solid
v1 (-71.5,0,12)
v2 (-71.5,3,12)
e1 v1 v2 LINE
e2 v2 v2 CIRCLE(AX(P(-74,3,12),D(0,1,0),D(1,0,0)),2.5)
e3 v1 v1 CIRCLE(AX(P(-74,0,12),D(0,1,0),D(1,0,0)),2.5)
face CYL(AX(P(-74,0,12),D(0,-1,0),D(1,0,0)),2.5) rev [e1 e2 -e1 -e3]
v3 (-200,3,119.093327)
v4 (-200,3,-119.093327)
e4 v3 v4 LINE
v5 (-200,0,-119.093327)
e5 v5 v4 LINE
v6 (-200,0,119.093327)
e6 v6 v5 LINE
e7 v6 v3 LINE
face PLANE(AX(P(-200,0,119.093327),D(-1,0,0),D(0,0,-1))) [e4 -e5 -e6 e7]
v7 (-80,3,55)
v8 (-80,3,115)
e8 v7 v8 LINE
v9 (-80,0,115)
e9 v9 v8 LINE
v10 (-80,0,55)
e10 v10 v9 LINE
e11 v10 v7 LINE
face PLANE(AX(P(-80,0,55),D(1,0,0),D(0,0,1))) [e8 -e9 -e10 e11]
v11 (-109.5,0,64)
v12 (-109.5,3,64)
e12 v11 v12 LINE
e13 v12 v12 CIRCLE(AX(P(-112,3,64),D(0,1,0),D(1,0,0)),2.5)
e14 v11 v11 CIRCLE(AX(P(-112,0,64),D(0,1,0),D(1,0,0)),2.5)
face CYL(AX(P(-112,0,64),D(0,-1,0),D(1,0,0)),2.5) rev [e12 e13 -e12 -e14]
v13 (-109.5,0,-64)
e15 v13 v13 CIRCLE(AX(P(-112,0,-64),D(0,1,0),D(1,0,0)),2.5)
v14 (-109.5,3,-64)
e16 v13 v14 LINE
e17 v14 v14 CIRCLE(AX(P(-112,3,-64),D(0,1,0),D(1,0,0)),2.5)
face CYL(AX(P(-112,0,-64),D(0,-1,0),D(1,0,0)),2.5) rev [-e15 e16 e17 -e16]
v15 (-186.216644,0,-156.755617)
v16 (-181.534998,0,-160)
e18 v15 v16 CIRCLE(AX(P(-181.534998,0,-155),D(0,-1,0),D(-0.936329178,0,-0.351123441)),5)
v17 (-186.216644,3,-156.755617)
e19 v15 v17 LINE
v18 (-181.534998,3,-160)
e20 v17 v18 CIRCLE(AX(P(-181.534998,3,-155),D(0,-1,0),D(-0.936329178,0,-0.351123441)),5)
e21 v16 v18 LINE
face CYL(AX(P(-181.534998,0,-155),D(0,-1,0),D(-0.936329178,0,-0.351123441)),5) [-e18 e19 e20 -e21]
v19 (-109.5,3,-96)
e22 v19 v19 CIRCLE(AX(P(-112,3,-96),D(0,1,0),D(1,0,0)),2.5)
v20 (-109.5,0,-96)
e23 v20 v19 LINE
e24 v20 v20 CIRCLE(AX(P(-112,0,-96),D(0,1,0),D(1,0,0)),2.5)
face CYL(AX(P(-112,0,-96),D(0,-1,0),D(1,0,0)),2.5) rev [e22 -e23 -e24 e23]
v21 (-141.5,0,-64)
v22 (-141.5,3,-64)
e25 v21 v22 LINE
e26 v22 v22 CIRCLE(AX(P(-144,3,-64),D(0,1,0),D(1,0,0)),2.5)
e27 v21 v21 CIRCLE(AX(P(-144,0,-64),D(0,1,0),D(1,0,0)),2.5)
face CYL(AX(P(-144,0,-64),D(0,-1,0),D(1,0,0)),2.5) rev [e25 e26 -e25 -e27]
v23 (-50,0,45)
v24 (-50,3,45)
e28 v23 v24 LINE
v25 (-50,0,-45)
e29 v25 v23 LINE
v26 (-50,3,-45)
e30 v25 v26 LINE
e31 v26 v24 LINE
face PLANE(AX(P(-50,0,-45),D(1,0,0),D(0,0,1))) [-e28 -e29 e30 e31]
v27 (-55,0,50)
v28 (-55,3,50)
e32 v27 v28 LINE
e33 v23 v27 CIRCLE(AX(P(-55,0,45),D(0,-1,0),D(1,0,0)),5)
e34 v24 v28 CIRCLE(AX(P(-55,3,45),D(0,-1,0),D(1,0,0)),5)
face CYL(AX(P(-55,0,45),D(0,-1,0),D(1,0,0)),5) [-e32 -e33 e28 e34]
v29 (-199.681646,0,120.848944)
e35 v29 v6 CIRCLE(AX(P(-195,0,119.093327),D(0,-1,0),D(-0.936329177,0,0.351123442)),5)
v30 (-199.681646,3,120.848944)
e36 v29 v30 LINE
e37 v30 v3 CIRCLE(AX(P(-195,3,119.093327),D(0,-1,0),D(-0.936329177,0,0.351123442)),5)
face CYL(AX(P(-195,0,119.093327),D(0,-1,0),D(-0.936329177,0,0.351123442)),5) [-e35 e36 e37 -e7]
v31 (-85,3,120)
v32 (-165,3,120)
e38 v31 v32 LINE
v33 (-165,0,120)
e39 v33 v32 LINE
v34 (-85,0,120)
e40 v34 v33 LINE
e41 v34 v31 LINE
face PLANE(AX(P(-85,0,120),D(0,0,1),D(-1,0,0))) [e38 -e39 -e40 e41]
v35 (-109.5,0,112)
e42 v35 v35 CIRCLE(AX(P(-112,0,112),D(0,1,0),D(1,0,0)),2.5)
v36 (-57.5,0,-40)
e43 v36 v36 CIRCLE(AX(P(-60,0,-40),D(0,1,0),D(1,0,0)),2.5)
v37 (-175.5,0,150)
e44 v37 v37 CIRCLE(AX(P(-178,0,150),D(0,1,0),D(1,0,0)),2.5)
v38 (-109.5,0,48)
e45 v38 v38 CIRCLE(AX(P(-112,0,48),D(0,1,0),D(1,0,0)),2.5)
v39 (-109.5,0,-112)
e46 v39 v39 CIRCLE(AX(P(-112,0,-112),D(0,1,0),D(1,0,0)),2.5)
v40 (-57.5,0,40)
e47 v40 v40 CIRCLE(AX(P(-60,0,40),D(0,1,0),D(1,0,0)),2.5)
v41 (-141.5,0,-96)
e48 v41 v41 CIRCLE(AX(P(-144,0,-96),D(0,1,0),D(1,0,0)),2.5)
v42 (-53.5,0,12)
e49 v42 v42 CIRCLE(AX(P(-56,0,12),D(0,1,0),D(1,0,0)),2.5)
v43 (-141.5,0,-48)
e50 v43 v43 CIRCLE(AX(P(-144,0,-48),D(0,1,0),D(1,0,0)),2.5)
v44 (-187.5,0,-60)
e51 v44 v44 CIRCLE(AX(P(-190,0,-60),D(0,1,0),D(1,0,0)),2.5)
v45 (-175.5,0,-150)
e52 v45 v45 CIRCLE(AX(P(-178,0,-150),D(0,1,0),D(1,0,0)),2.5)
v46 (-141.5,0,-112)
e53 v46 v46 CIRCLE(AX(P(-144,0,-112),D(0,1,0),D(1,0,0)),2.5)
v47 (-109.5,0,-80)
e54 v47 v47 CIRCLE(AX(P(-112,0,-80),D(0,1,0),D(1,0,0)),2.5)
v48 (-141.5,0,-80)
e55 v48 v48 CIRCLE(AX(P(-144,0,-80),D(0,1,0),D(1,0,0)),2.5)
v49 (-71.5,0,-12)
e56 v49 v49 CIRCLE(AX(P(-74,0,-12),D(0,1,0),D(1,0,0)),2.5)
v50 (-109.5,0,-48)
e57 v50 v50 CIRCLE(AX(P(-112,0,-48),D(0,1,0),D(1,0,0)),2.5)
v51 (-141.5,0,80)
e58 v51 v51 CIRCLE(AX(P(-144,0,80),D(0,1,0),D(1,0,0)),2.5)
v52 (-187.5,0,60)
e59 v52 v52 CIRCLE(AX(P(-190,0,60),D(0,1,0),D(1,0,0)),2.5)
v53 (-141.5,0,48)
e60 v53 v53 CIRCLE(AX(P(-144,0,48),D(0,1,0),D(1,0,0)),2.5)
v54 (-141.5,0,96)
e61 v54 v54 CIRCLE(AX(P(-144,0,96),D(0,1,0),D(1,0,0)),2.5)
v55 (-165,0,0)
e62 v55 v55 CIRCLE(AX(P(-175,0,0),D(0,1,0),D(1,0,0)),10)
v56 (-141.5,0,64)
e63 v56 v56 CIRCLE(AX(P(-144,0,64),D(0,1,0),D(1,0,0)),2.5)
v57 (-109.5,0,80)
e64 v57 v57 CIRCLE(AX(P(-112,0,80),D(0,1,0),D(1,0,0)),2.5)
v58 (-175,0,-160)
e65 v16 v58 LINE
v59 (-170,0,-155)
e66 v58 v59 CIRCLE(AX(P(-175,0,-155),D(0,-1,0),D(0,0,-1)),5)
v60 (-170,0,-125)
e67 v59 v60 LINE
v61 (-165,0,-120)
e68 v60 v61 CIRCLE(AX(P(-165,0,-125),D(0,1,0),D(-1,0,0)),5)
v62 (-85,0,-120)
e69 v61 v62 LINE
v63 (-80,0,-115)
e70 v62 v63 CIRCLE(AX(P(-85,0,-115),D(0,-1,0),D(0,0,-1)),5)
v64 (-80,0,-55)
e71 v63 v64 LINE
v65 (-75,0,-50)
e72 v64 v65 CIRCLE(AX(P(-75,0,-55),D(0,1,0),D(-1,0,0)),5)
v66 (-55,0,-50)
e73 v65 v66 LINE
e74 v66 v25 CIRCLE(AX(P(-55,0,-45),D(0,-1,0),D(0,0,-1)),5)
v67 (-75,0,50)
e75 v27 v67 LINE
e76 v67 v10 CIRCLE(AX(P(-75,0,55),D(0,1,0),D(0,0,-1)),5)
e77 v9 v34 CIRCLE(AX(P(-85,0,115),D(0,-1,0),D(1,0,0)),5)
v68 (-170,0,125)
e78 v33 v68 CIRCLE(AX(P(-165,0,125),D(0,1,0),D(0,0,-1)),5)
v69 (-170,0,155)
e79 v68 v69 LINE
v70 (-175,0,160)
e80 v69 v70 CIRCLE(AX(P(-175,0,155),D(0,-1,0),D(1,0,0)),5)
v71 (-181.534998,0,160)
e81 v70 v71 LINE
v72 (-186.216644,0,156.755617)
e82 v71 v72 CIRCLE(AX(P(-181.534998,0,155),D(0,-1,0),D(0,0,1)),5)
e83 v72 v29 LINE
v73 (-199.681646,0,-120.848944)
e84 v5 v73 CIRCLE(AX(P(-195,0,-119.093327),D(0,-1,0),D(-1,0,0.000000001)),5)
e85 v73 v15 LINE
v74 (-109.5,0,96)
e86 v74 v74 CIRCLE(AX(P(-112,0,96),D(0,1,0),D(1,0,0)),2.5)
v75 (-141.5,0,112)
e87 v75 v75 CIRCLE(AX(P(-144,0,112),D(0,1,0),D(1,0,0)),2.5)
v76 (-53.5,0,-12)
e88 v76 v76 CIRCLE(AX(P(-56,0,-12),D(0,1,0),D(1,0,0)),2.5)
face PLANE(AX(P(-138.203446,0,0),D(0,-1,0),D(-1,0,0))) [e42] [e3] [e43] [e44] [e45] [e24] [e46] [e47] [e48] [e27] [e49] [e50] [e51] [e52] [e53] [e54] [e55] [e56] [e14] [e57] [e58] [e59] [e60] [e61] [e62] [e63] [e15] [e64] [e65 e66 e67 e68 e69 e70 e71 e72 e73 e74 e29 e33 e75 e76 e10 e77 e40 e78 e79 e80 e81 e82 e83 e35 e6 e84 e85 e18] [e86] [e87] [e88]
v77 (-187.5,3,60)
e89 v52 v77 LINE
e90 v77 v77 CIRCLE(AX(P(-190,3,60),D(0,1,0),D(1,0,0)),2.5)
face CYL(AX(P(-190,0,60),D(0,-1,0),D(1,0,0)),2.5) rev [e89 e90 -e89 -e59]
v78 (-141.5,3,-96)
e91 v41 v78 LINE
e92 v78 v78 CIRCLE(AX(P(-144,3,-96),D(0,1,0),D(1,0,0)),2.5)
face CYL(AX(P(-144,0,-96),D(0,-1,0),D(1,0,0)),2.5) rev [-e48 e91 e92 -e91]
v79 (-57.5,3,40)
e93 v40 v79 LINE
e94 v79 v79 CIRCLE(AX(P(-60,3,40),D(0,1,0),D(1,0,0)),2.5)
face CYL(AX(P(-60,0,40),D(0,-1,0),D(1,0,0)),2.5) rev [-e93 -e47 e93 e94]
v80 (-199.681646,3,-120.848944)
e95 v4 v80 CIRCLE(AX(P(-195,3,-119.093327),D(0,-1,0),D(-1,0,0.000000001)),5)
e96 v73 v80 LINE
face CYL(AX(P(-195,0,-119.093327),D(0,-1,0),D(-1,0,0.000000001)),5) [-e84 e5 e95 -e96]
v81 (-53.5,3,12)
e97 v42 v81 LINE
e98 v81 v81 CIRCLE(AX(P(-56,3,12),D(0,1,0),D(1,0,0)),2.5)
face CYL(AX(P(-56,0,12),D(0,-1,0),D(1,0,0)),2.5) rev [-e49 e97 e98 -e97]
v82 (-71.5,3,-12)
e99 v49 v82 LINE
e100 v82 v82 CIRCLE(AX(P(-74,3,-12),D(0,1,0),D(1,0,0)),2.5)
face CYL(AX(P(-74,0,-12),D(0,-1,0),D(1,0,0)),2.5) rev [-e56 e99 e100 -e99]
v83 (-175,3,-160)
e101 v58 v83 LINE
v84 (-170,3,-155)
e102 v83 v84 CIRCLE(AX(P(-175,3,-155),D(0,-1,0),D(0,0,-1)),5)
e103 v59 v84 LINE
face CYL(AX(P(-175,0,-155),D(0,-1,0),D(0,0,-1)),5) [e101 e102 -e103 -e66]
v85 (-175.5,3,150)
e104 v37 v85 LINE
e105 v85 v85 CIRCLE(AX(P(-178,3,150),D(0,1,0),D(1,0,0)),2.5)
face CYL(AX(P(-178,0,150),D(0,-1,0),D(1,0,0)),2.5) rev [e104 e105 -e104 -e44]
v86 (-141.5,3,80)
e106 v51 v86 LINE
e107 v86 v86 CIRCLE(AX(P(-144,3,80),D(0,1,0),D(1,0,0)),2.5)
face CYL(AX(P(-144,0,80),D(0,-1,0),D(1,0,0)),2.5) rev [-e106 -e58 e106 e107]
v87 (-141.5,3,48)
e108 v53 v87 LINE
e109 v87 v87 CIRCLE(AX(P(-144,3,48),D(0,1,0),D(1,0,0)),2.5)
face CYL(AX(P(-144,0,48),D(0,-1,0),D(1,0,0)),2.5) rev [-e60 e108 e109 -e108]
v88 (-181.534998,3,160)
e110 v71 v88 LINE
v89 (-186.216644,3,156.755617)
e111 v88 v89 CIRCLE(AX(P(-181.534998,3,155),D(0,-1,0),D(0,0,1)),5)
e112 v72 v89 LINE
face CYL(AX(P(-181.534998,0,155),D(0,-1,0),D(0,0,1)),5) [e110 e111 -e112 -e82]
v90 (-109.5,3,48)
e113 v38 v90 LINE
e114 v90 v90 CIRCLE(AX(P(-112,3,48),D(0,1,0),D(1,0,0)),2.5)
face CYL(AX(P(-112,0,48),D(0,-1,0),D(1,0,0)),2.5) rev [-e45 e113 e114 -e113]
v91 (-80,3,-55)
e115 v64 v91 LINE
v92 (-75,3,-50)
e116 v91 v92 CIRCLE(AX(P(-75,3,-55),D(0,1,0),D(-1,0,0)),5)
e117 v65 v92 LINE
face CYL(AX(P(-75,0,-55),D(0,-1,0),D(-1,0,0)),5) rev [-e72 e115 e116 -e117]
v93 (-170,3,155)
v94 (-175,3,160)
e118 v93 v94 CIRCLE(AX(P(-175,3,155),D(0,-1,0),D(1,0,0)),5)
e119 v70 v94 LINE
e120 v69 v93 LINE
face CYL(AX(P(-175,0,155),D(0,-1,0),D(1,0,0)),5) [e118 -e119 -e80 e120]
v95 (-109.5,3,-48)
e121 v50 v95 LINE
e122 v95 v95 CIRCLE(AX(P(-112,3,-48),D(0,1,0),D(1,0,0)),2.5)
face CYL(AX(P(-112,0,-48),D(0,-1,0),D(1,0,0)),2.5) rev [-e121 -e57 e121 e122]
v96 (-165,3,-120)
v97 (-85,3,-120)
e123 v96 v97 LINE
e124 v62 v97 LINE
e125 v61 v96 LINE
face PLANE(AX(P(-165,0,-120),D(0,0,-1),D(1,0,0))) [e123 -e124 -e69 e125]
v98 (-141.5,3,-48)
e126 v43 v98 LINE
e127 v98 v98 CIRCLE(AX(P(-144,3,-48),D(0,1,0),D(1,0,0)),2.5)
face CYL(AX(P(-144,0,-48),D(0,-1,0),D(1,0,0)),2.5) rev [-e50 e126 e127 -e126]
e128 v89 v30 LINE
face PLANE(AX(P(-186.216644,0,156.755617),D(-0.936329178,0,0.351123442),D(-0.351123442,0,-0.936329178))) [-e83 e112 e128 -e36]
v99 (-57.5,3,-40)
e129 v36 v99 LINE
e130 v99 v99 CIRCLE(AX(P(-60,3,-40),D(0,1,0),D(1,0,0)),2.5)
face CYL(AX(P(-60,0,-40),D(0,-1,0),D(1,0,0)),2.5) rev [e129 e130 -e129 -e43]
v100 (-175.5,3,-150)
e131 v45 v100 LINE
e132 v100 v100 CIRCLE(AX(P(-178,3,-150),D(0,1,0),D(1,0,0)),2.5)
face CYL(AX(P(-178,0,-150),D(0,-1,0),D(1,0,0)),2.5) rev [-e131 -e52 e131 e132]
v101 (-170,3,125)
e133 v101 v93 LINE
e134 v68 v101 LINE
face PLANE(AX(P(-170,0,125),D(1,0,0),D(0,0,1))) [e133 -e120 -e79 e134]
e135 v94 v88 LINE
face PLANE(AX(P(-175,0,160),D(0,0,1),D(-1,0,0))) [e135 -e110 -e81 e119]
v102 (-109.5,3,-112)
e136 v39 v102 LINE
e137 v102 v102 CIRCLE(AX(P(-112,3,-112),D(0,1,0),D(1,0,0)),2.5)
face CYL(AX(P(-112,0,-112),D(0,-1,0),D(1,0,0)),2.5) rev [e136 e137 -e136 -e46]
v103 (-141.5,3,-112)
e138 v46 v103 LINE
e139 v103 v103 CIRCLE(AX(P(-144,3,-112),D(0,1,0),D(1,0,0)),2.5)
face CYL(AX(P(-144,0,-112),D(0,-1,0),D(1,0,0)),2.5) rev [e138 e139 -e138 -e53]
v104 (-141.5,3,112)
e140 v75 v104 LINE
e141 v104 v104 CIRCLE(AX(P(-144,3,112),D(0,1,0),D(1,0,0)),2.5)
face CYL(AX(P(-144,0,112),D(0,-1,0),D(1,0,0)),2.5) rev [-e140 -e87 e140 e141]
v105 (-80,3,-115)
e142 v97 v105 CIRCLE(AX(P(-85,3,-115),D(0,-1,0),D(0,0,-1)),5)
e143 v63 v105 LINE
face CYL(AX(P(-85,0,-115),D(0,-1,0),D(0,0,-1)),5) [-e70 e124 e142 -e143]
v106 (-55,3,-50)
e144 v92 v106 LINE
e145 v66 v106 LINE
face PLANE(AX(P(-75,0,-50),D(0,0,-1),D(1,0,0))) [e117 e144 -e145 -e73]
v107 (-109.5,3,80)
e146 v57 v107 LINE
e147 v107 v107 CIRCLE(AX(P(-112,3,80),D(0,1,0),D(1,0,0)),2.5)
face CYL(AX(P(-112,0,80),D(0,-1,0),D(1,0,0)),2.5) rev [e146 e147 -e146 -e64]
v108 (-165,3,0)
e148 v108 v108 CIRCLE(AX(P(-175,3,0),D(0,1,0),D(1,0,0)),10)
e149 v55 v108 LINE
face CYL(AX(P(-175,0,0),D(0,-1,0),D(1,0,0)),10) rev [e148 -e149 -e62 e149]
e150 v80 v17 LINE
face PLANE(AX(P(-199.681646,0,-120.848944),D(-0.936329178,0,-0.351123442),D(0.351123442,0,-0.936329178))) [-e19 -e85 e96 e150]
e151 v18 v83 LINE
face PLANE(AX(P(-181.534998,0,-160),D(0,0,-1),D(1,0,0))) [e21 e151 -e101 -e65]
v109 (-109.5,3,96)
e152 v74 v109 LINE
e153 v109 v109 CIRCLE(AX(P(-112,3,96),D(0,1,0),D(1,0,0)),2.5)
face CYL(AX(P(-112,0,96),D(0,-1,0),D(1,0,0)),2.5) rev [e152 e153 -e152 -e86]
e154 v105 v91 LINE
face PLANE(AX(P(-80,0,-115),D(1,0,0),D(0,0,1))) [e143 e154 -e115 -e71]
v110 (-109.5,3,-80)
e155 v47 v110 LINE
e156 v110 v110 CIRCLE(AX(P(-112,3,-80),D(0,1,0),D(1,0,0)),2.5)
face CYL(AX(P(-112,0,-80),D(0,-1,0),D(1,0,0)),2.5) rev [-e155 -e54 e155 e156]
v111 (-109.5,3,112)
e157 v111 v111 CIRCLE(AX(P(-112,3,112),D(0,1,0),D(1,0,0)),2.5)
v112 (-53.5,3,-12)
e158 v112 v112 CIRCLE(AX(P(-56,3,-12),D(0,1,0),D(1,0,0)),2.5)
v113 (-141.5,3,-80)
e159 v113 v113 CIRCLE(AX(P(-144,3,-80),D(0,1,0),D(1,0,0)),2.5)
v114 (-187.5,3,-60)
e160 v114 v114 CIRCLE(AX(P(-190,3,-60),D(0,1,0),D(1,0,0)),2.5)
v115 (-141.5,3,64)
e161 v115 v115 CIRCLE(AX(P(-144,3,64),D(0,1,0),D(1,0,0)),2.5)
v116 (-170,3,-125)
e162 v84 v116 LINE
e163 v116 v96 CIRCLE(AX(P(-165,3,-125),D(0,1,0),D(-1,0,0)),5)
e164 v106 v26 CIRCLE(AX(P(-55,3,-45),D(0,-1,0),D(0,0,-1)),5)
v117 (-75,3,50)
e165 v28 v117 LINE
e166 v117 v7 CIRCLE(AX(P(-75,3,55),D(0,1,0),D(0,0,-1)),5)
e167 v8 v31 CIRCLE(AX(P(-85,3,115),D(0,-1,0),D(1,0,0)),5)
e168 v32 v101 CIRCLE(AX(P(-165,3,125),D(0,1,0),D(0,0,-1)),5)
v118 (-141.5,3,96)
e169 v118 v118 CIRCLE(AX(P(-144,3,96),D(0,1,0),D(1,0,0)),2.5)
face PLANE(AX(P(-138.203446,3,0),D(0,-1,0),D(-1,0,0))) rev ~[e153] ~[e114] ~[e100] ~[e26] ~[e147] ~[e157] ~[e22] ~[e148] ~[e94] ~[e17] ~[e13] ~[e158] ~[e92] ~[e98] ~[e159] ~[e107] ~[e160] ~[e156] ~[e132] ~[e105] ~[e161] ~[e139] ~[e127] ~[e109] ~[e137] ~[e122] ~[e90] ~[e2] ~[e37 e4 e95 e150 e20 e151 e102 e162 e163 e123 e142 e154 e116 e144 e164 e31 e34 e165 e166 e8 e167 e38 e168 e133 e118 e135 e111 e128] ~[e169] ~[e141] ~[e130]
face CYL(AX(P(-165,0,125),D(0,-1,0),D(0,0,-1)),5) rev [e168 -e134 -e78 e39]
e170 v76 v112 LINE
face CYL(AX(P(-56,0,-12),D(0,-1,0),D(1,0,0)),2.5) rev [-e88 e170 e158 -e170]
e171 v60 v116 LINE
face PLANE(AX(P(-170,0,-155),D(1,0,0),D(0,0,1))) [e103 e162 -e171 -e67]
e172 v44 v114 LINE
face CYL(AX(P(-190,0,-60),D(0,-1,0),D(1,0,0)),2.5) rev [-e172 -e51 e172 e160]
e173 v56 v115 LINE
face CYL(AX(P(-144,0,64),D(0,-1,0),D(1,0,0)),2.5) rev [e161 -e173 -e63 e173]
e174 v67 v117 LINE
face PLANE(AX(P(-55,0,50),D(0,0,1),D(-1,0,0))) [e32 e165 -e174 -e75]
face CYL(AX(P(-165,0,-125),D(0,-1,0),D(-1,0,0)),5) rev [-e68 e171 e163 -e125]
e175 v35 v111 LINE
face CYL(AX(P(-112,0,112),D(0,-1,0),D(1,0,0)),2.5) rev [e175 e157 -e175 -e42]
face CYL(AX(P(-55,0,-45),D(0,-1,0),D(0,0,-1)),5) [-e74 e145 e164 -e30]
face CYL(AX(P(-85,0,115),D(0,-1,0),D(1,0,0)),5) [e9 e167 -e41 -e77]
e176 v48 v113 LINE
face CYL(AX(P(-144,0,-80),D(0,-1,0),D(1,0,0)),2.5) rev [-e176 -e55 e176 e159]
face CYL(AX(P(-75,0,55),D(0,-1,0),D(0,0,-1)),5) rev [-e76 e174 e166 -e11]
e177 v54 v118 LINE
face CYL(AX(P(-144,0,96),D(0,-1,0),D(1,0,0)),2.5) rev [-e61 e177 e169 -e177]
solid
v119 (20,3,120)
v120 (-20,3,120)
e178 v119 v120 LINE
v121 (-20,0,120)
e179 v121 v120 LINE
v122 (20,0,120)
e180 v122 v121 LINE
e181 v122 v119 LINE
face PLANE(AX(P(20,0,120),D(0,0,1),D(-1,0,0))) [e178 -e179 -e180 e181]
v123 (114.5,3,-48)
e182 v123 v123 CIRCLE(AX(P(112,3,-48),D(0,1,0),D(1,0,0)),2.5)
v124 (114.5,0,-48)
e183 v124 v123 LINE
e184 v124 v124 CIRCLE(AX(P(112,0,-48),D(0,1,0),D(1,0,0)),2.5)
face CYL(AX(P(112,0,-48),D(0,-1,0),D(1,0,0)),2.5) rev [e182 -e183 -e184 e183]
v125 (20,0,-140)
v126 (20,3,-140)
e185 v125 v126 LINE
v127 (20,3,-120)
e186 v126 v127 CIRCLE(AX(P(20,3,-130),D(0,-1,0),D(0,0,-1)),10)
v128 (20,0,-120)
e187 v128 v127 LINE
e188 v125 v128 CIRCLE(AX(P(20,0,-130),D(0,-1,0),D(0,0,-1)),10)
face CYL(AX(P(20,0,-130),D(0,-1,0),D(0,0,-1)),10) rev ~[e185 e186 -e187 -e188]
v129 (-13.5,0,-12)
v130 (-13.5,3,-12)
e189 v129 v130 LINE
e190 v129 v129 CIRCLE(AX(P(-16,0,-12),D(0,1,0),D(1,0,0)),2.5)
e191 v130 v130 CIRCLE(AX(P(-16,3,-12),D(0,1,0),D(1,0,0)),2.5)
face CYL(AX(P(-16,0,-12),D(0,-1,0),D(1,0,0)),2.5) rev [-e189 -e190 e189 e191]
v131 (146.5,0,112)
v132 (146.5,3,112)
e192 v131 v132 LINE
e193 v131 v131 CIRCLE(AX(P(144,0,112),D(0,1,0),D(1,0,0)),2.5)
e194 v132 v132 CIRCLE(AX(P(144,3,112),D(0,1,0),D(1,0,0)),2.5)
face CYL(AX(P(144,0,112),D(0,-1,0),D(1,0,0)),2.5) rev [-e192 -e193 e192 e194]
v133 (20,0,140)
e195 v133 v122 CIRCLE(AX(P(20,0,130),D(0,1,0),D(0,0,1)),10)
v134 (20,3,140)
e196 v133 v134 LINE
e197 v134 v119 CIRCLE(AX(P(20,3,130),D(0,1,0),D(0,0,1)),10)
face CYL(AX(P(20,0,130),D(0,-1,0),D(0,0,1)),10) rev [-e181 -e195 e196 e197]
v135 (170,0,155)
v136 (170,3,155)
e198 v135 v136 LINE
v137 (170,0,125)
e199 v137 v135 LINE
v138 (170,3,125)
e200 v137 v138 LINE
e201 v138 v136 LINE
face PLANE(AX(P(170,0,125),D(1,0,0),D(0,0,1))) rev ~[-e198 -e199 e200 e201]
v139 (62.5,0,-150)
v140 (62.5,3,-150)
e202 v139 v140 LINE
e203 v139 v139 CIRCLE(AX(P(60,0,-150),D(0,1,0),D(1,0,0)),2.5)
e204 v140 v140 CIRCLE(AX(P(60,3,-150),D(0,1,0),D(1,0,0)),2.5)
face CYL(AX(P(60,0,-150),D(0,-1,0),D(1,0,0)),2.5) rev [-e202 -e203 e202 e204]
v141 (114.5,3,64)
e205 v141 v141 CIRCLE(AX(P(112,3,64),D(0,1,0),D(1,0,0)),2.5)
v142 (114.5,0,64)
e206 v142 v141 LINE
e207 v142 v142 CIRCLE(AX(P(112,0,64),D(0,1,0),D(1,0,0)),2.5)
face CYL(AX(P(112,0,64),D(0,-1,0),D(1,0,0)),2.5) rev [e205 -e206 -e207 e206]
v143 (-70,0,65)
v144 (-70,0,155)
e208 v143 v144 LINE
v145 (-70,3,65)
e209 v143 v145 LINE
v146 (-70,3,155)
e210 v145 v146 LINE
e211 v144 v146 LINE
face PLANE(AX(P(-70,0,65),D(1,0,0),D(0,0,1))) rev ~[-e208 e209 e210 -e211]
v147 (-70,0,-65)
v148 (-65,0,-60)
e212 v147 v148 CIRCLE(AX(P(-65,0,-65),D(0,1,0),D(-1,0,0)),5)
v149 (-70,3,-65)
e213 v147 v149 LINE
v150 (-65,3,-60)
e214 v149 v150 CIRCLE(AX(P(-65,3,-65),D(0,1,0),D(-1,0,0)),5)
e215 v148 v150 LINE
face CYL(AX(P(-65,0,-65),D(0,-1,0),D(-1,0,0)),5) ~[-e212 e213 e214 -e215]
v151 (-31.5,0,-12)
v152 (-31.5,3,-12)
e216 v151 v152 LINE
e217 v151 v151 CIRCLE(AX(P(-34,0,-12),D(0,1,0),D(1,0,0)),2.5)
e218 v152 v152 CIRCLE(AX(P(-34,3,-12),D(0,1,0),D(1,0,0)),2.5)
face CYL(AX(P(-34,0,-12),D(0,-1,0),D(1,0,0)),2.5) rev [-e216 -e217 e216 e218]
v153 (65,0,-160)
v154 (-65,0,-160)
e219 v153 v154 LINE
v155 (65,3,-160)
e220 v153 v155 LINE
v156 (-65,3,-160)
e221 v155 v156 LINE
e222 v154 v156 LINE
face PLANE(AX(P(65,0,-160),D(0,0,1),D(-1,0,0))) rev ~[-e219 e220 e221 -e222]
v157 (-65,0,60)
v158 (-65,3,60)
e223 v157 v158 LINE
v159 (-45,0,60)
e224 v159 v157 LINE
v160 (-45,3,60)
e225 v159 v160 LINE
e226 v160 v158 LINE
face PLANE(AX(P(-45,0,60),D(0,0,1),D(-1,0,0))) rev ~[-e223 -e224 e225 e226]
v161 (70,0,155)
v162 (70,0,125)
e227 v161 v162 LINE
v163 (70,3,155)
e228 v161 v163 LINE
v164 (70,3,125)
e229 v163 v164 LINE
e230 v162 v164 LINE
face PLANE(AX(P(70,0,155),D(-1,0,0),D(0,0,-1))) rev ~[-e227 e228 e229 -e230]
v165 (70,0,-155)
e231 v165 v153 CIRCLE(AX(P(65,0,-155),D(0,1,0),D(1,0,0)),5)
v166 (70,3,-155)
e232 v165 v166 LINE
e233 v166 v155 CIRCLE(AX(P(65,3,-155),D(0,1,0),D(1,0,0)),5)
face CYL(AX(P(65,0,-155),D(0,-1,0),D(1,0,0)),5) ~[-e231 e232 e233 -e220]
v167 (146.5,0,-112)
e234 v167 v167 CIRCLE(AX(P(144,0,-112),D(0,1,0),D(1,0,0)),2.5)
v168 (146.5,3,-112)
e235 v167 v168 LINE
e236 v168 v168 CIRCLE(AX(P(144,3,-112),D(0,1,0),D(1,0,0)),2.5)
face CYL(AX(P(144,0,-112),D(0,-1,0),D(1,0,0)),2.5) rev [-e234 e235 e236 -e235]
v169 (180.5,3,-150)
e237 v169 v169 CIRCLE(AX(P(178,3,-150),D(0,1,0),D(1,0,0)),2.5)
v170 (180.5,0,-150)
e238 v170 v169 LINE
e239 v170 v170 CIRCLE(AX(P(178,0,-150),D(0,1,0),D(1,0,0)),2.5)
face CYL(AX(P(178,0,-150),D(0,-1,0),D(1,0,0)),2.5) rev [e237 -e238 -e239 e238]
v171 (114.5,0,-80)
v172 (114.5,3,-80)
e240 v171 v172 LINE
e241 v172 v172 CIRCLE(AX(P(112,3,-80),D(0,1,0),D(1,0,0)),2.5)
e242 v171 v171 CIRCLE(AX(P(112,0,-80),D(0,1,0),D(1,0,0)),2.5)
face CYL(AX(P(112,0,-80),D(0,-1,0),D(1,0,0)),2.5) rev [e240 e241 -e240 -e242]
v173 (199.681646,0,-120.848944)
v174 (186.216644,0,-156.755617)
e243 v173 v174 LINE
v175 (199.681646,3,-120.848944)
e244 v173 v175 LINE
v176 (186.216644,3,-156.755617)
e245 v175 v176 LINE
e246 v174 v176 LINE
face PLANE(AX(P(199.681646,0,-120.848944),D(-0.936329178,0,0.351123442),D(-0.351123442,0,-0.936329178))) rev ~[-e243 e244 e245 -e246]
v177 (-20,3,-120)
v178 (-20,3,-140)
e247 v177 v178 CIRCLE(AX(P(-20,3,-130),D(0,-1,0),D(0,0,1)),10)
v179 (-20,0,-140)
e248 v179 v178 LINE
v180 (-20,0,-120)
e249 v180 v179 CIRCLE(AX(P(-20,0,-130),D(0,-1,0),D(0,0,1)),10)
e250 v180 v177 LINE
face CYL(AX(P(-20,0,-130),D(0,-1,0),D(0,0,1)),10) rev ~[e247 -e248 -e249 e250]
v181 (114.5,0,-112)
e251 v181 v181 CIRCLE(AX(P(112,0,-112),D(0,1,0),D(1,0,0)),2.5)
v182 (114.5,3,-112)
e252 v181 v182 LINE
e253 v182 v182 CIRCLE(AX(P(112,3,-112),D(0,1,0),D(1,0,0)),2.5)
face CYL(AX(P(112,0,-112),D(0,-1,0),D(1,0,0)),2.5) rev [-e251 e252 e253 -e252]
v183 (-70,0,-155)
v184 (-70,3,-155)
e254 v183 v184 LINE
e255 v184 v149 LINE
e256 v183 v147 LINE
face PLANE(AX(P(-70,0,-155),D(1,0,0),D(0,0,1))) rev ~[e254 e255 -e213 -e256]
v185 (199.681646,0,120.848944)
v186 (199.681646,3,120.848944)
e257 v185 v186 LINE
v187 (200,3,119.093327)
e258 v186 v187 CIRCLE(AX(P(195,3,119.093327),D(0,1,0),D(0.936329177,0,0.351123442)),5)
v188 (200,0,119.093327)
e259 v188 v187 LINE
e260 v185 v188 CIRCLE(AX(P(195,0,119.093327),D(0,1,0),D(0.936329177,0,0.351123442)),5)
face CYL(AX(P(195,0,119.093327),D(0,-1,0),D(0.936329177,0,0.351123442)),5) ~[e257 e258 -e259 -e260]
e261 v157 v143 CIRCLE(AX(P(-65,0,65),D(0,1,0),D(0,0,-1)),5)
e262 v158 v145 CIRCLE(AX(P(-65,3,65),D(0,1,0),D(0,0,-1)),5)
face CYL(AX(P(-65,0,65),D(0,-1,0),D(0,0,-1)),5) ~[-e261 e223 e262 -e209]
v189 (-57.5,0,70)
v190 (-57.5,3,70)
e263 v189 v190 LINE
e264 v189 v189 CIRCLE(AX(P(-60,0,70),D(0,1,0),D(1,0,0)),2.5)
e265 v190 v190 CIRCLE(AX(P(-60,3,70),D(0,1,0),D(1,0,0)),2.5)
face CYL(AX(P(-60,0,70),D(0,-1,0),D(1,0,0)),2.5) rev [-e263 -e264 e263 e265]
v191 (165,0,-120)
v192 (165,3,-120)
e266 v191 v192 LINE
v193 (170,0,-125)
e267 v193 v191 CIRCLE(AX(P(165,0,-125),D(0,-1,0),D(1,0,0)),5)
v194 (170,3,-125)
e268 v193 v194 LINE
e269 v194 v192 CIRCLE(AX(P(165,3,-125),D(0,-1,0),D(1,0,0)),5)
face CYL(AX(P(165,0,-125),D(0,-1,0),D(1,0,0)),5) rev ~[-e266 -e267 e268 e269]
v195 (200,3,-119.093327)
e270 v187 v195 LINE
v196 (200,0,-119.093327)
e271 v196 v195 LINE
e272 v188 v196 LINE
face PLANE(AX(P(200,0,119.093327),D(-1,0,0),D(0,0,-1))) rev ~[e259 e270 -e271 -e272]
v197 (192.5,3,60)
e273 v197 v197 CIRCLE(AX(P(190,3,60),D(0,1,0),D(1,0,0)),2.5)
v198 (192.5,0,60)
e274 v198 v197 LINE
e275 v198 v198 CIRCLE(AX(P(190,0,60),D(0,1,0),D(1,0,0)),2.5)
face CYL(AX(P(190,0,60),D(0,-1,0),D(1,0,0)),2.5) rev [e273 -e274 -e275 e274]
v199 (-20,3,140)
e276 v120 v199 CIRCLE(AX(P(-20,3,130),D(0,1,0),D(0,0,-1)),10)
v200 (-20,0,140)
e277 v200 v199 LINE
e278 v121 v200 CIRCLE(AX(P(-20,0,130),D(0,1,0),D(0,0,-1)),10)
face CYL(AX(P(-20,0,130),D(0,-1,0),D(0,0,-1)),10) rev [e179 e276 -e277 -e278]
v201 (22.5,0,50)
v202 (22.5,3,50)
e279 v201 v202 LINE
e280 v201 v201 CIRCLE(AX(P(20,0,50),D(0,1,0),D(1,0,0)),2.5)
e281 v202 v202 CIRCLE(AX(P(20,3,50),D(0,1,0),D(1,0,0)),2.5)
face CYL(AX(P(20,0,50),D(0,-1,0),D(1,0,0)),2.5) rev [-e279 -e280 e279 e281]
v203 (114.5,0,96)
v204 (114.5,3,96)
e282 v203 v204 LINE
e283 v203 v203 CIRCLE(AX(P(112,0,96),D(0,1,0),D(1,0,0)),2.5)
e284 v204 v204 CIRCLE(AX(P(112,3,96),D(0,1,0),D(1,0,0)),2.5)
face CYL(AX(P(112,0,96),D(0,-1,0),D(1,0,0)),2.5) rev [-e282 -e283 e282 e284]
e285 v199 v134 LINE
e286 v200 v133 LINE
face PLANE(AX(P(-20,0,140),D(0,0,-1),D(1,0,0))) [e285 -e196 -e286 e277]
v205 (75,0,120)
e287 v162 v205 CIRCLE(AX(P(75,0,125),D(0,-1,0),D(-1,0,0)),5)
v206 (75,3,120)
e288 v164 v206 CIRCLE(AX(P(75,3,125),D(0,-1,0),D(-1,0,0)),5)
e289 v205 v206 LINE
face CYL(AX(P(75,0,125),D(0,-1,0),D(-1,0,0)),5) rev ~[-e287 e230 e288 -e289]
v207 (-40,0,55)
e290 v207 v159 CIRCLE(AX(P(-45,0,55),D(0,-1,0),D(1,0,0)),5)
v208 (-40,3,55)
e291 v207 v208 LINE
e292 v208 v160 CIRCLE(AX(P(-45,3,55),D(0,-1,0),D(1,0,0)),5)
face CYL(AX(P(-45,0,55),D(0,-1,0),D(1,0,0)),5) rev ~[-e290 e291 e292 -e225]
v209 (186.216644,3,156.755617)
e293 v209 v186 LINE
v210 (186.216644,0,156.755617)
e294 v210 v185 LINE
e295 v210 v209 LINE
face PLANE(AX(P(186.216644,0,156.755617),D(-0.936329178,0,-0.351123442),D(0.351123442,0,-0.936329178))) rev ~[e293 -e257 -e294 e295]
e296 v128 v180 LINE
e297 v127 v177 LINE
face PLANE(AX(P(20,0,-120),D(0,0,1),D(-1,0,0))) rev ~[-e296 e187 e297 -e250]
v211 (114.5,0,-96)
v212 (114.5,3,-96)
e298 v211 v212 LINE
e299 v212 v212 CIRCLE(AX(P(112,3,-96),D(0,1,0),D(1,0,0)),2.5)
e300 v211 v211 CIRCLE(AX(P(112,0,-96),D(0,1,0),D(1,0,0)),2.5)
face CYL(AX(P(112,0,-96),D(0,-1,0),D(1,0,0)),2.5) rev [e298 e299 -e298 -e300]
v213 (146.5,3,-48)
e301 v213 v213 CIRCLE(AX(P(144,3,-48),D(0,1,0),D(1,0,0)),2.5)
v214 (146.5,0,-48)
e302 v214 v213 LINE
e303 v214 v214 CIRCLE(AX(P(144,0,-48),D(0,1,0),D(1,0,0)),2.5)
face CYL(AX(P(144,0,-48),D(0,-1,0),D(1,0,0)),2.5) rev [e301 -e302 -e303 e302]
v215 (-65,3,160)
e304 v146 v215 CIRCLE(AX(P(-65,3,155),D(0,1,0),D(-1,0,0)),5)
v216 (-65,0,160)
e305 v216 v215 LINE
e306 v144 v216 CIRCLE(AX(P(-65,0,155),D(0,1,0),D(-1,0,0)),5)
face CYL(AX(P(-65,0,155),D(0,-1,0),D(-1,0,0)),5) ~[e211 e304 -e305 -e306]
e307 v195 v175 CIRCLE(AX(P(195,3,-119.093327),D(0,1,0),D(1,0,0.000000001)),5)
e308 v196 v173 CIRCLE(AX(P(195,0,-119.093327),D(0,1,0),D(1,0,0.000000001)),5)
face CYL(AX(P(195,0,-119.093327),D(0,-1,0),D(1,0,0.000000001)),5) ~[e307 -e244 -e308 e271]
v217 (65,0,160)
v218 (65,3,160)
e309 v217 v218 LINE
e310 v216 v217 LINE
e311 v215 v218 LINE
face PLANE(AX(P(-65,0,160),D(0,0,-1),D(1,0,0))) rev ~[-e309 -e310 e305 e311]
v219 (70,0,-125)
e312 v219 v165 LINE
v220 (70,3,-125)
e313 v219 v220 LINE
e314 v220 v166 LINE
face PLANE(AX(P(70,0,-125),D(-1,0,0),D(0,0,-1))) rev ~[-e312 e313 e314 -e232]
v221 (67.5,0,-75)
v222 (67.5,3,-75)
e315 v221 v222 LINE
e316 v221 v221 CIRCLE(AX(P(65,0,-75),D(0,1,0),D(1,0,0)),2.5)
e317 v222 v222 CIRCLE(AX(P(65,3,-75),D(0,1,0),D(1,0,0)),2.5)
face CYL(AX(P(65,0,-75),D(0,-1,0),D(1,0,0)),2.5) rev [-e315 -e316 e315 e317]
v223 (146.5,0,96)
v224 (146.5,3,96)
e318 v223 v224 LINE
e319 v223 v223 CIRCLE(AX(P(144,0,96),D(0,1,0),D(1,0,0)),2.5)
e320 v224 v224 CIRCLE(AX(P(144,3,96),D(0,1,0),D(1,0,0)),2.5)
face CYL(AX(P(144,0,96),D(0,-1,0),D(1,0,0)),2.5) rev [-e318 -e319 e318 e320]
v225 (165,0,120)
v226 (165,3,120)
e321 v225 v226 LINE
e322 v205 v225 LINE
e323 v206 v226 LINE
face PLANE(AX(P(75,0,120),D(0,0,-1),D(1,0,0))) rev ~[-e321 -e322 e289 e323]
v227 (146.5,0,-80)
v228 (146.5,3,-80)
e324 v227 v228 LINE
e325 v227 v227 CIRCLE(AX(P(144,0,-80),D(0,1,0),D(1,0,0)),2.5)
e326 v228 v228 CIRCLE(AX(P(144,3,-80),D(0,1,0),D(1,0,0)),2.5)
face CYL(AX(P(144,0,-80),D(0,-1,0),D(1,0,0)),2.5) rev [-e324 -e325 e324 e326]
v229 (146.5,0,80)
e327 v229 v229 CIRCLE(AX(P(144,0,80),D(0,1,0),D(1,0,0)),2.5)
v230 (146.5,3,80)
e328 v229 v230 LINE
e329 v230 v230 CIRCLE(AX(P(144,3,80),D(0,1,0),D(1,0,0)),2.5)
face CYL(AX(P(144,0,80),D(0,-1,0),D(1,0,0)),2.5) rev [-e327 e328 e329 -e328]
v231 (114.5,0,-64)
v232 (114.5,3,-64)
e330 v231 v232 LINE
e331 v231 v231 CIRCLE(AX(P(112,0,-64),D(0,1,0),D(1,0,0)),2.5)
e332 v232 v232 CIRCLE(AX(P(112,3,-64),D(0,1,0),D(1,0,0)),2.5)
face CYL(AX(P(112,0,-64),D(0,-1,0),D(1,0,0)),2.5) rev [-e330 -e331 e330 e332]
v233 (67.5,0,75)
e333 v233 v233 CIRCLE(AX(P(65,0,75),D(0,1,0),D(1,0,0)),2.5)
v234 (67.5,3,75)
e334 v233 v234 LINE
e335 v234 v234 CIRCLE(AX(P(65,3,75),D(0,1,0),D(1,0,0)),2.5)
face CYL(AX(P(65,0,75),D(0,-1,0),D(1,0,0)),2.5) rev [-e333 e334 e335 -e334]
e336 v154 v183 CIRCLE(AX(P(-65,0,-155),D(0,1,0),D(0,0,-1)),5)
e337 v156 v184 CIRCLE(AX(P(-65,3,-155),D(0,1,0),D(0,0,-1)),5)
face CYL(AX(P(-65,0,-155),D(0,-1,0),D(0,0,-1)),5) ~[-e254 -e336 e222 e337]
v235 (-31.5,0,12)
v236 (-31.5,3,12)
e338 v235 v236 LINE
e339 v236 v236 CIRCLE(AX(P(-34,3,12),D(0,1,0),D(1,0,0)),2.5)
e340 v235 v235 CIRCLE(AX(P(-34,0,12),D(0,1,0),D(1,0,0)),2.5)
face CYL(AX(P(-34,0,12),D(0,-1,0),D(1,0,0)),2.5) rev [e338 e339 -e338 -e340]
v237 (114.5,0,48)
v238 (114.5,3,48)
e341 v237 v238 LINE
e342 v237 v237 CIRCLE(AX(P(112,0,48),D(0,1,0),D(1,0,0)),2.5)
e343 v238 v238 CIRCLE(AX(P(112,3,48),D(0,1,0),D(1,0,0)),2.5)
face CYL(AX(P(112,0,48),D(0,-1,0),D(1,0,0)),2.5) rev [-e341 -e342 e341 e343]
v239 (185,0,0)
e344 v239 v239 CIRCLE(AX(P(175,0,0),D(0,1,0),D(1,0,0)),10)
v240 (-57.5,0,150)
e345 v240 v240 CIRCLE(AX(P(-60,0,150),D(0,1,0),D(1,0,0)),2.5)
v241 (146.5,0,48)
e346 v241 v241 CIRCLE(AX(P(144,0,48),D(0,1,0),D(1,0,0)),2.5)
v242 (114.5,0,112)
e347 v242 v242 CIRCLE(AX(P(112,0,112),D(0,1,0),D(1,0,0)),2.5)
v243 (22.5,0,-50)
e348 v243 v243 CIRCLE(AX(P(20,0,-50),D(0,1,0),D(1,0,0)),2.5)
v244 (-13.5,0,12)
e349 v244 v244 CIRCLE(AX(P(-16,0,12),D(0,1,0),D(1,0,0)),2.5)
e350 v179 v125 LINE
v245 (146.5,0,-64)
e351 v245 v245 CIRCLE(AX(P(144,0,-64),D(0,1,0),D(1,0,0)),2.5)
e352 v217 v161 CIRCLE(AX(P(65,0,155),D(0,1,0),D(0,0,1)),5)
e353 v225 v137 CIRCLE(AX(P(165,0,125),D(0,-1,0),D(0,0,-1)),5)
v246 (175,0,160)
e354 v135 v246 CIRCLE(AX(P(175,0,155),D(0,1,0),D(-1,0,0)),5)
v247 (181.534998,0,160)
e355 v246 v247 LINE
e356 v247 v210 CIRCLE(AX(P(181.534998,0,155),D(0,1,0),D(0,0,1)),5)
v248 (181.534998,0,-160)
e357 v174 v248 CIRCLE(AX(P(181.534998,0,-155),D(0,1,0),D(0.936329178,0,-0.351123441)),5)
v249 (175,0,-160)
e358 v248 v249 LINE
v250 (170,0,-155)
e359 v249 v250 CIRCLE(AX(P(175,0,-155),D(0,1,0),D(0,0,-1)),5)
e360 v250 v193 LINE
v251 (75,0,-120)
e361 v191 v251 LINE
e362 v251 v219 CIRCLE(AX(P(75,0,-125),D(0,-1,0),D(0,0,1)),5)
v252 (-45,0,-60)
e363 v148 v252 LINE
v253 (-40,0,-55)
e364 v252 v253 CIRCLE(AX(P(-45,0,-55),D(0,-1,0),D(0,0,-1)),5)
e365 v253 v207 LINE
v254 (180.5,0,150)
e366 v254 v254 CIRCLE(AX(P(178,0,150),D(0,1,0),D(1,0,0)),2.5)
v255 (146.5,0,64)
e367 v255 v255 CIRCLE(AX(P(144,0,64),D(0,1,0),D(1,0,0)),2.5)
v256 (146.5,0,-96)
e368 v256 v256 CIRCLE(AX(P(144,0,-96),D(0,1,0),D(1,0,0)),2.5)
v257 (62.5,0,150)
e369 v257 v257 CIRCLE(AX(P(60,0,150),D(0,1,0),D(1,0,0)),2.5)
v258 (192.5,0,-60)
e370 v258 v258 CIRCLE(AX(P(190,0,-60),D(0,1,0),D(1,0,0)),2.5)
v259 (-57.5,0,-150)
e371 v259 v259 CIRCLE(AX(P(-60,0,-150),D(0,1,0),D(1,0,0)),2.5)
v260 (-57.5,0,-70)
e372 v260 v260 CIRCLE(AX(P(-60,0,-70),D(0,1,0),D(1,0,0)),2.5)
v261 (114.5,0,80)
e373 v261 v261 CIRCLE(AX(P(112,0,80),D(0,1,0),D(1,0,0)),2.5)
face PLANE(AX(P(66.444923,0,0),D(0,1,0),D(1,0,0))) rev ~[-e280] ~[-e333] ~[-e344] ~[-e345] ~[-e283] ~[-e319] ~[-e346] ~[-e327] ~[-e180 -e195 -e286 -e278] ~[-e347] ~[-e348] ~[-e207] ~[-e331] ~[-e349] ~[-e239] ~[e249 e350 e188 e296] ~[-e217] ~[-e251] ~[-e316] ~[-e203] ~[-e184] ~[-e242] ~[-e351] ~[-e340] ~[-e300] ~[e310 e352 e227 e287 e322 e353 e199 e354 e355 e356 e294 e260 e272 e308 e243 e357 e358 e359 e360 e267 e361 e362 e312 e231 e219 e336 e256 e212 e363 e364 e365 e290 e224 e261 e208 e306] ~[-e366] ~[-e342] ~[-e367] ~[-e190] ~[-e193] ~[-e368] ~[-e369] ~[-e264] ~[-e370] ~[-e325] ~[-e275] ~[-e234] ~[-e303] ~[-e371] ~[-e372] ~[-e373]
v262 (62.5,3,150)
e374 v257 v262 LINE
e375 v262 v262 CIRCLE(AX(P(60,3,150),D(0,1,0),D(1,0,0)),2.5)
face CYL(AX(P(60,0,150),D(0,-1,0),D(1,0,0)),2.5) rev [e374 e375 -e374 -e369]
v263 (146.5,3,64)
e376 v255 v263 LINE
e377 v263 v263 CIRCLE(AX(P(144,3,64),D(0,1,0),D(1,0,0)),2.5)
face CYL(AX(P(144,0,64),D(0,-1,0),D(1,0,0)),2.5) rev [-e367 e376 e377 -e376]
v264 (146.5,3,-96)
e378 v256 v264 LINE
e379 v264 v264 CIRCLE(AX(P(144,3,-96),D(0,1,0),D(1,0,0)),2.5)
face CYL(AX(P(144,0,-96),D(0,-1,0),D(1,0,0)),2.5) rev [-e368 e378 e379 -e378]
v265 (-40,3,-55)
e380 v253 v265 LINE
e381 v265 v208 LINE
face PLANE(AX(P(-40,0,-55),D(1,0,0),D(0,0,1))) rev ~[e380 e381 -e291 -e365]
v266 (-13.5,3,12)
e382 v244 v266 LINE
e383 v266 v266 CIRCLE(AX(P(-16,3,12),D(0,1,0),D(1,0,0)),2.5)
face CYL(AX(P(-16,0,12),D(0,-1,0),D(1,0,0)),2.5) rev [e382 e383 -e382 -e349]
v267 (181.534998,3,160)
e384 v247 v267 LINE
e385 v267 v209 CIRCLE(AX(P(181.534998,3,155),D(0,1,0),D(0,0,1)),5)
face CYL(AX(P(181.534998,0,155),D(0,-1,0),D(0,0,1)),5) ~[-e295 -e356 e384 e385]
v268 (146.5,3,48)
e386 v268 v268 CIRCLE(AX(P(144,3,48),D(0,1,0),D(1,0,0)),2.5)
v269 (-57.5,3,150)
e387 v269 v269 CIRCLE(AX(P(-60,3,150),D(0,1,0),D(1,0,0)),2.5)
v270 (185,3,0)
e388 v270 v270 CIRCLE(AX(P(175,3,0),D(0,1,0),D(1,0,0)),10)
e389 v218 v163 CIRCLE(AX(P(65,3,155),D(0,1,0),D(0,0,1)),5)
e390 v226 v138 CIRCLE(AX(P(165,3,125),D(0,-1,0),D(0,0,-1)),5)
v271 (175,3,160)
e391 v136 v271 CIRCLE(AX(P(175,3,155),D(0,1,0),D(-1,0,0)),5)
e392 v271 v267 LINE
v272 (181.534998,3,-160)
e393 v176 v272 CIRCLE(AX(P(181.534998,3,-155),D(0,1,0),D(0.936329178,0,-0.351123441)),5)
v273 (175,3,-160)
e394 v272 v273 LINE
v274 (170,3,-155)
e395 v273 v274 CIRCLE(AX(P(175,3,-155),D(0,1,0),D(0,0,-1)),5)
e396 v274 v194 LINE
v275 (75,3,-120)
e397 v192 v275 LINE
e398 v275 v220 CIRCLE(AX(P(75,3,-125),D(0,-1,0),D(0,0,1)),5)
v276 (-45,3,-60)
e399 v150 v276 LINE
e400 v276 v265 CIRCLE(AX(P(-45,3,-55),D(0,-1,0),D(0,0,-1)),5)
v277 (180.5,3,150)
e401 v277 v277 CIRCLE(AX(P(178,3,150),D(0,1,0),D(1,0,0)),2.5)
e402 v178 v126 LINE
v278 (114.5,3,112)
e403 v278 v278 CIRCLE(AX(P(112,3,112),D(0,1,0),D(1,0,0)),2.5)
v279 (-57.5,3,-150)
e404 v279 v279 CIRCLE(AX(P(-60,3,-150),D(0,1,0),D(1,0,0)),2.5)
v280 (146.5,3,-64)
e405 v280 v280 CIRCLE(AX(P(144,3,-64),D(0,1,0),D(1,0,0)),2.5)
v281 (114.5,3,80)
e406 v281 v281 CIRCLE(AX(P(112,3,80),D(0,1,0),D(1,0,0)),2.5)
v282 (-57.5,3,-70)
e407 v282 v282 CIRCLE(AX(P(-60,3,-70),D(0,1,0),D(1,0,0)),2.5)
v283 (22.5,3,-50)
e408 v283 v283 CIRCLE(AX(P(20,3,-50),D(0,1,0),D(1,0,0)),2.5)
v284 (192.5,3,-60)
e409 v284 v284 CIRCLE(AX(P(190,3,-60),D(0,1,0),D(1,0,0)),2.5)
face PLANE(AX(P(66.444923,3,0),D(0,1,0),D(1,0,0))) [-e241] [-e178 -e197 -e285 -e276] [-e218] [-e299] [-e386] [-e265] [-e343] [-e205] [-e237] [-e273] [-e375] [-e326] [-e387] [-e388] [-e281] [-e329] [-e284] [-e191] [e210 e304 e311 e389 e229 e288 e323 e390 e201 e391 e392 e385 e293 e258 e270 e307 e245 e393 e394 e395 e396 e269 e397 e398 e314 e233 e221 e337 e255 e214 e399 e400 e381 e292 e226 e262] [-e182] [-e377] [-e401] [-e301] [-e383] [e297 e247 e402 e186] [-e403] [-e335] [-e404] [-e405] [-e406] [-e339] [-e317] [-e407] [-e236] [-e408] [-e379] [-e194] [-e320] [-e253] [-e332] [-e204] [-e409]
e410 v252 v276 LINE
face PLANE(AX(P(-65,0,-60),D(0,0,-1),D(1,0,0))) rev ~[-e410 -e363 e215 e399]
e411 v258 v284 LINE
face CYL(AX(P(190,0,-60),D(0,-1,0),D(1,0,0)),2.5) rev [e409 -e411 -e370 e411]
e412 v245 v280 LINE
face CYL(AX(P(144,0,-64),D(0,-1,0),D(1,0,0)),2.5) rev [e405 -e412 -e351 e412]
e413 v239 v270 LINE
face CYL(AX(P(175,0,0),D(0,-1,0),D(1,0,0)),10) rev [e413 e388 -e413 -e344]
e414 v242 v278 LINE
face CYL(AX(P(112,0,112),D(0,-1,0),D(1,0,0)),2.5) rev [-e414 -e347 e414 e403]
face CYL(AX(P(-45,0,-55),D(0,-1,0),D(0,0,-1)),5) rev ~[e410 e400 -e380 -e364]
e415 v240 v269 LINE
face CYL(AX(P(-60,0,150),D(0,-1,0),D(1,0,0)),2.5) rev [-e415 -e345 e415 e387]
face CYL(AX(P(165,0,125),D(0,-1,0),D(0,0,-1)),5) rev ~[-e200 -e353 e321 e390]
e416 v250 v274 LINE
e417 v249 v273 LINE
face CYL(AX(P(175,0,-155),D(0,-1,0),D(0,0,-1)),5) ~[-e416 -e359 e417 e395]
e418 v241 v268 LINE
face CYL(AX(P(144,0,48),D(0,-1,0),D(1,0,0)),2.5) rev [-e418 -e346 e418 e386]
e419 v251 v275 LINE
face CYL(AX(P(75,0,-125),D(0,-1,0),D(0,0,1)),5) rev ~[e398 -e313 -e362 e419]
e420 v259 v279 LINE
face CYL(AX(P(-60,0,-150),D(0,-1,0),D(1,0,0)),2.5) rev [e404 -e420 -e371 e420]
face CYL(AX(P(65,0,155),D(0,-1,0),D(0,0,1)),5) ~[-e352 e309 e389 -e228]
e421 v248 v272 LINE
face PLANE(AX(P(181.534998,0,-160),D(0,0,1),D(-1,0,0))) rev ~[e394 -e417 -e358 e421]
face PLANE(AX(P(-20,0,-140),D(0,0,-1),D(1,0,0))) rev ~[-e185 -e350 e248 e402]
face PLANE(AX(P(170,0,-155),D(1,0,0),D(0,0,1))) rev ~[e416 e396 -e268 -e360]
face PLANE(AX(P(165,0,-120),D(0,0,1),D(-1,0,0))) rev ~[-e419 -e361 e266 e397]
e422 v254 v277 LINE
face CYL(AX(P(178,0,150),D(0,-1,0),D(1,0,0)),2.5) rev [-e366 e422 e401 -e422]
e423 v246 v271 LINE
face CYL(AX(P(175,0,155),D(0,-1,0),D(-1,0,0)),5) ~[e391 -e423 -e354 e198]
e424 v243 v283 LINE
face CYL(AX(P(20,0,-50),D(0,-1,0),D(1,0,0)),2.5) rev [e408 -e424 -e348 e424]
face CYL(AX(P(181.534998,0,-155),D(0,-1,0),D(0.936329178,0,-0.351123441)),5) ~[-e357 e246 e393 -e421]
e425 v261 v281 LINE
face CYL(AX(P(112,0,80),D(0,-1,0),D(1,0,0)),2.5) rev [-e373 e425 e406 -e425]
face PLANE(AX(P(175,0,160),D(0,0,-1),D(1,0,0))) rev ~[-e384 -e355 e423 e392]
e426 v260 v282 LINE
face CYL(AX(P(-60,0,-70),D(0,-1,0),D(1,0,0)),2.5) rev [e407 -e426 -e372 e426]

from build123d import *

# Parameters (mm, degrees)
SKETCH_1_R        = 2.5
SKETCH_1_R_2      = 10
EXTRUDE_1_DEPTH   = 3
EXTRUDE_1_2_DEPTH = 3


with BuildPart() as part:
    # 草图1 → 凸台-拉伸1 (new body)
    with BuildSketch(Plane(origin=(0, 0, 0), x_dir=(1, 0, 0), z_dir=(0, 1, 0))):
        with BuildLine():
            Line((-200, -119.093327091), (-200, 119.093327091))
            ThreePointArc((-200, 119.093327091), (-199.919767751, 119.985451119), (-199.681645888, 120.848944299))
            Line((-199.681645888, 120.848944299), (-186.216643547, 156.755617208))
            ThreePointArc((-186.216643547, 156.755617208), (-184.382971848, 159.109628088), (-181.534997659, 160))
            Line((-181.534997659, 160), (-175, 160))
            ThreePointArc((-175, 160), (-171.464466094, 158.535533906), (-170, 155))
            Line((-170, 155), (-170, 125))
            ThreePointArc((-170, 125), (-168.535533906, 121.464466094), (-165, 120))
            Line((-165, 120), (-85, 120))
            ThreePointArc((-85, 120), (-81.464466094, 118.535533906), (-80, 115))
            Line((-80, 115), (-80, 55))
            ThreePointArc((-80, 55), (-78.535533906, 51.464466094), (-75, 50))
            Line((-75, 50), (-55, 50))
            ThreePointArc((-55, 50), (-51.464466094, 48.535533906), (-50, 45))
            Line((-50, 45), (-50, -45))
            ThreePointArc((-50, -45), (-51.464466094, -48.535533906), (-55, -50))
            Line((-55, -50), (-75, -50))
            ThreePointArc((-75, -50), (-78.535533906, -51.464466094), (-80, -55))
            Line((-80, -55), (-80, -115))
            ThreePointArc((-80, -115), (-81.464466094, -118.535533906), (-85, -120))
            Line((-85, -120), (-165, -120))
            ThreePointArc((-165, -120), (-168.535533906, -121.464466094), (-170, -125))
            Line((-170, -125), (-170, -155))
            ThreePointArc((-170, -155), (-171.464466094, -158.535533906), (-175, -160))
            Line((-175, -160), (-181.534997659, -160))
            ThreePointArc((-181.534997659, -160), (-184.382971848, -159.109628088), (-186.216643547, -156.755617208))
            Line((-186.216643547, -156.755617208), (-199.681645888, -120.848944299))
            ThreePointArc((-199.681645888, -120.848944299), (-199.919767751, -119.985451119), (-200, -119.093327091))
        make_face()
        with Locations((-112, 112)):
            Circle(SKETCH_1_R, mode=Mode.SUBTRACT)
        with Locations((-144, 112)):
            Circle(SKETCH_1_R, mode=Mode.SUBTRACT)
        with Locations((-144, 96)):
            Circle(SKETCH_1_R, mode=Mode.SUBTRACT)
        with Locations((-144, 80)):
            Circle(SKETCH_1_R, mode=Mode.SUBTRACT)
        with Locations((-144, 64)):
            Circle(SKETCH_1_R, mode=Mode.SUBTRACT)
        with Locations((-144, 48)):
            Circle(SKETCH_1_R, mode=Mode.SUBTRACT)
        with Locations((-112, 96)):
            Circle(SKETCH_1_R, mode=Mode.SUBTRACT)
        with Locations((-112, 80)):
            Circle(SKETCH_1_R, mode=Mode.SUBTRACT)
        with Locations((-112, 64)):
            Circle(SKETCH_1_R, mode=Mode.SUBTRACT)
        with Locations((-112, 48)):
            Circle(SKETCH_1_R, mode=Mode.SUBTRACT)
        with Locations((-56, 12)):
            Circle(SKETCH_1_R, mode=Mode.SUBTRACT)
        with Locations((-74, 12)):
            Circle(SKETCH_1_R, mode=Mode.SUBTRACT)
        with Locations((-178, 150)):
            Circle(SKETCH_1_R, mode=Mode.SUBTRACT)
        with Locations((-60, 40)):
            Circle(SKETCH_1_R, mode=Mode.SUBTRACT)
        with Locations((-190, 60)):
            Circle(SKETCH_1_R, mode=Mode.SUBTRACT)
        with Locations((-175, 0)):
            Circle(SKETCH_1_R_2, mode=Mode.SUBTRACT)
        with Locations((-190, -60)):
            Circle(SKETCH_1_R, mode=Mode.SUBTRACT)
        with Locations((-60, -40)):
            Circle(SKETCH_1_R, mode=Mode.SUBTRACT)
        with Locations((-178, -150)):
            Circle(SKETCH_1_R, mode=Mode.SUBTRACT)
        with Locations((-74, -12)):
            Circle(SKETCH_1_R, mode=Mode.SUBTRACT)
        with Locations((-56, -12)):
            Circle(SKETCH_1_R, mode=Mode.SUBTRACT)
        with Locations((-112, -48)):
            Circle(SKETCH_1_R, mode=Mode.SUBTRACT)
        with Locations((-112, -64)):
            Circle(SKETCH_1_R, mode=Mode.SUBTRACT)
        with Locations((-112, -80)):
            Circle(SKETCH_1_R, mode=Mode.SUBTRACT)
        with Locations((-112, -96)):
            Circle(SKETCH_1_R, mode=Mode.SUBTRACT)
        with Locations((-144, -48)):
            Circle(SKETCH_1_R, mode=Mode.SUBTRACT)
        with Locations((-144, -64)):
            Circle(SKETCH_1_R, mode=Mode.SUBTRACT)
        with Locations((-144, -80)):
            Circle(SKETCH_1_R, mode=Mode.SUBTRACT)
        with Locations((-144, -96)):
            Circle(SKETCH_1_R, mode=Mode.SUBTRACT)
        with Locations((-144, -112)):
            Circle(SKETCH_1_R, mode=Mode.SUBTRACT)
        with Locations((-112, -112)):
            Circle(SKETCH_1_R, mode=Mode.SUBTRACT)
    extrude(amount=EXTRUDE_1_DEPTH)


with BuildPart() as body_2:
    # 草图1 → Extrude 1 2 (new body)
    with BuildSketch(Plane(origin=(0, 0, 0), x_dir=(1, 0, 0), z_dir=(0, 1, 0))):
        with BuildLine():
            Line((-70, 120), (-70, 65))
            ThreePointArc((-70, 65), (-68.535533906, 61.464466094), (-65, 60))
            Line((-65, 60), (-45, 60))
            ThreePointArc((-45, 60), (-41.464466094, 58.535533906), (-40, 55))
            Line((-40, 55), (-40, -55))
            ThreePointArc((-40, -55), (-41.464466094, -58.535533906), (-45, -60))
            Line((-45, -60), (-65, -60))
            ThreePointArc((-65, -60), (-68.535533906, -61.464466094), (-70, -65))
            Line((-70, -65), (-70, -120))
            Line((-70, -120), (-70, -155))
            ThreePointArc((-70, -155), (-68.535533906, -158.535533906), (-65, -160))
            Line((-65, -160), (65, -160))
            ThreePointArc((65, -160), (68.535533906, -158.535533906), (70, -155))
            Line((70, -155), (70, -125))
            ThreePointArc((70, -125), (71.464466094, -121.464466094), (75, -120))
            Line((75, -120), (165, -120))
            ThreePointArc((165, -120), (168.535533906, -121.464466094), (170, -125))
            Line((170, -125), (170, -155))
            ThreePointArc((170, -155), (171.464466094, -158.535533906), (175, -160))
            Line((175, -160), (181.534997659, -160))
            ThreePointArc((181.534997659, -160), (184.382971848, -159.109628088), (186.216643547, -156.755617208))
            Line((186.216643547, -156.755617208), (199.681645888, -120.848944299))
            ThreePointArc((199.681645888, -120.848944299), (199.919767751, -119.985451119), (200, -119.093327091))
            Line((200, -119.093327091), (200, 119.093327091))
            ThreePointArc((200, 119.093327091), (199.919767751, 119.985451119), (199.681645888, 120.848944299))
            Line((199.681645888, 120.848944299), (186.216643547, 156.755617208))
            ThreePointArc((186.216643547, 156.755617208), (184.382971848, 159.109628088), (181.534997659, 160))
            Line((181.534997659, 160), (175, 160))
            ThreePointArc((175, 160), (171.464466094, 158.535533906), (170, 155))
            Line((170, 155), (170, 125))
            ThreePointArc((170, 125), (168.535533906, 121.464466094), (165, 120))
            Line((165, 120), (75, 120))
            ThreePointArc((75, 120), (71.464466094, 121.464466094), (70, 125))
            Line((70, 125), (70, 155))
            ThreePointArc((70, 155), (68.535533906, 158.535533906), (65, 160))
            Line((65, 160), (-65, 160))
            ThreePointArc((-65, 160), (-68.535533906, 158.535533906), (-70, 155))
            Line((-70, 155), (-70, 120))
        make_face()
        with Locations((112, 112)):
            Circle(SKETCH_1_R, mode=Mode.SUBTRACT)
        with Locations((144, 112)):
            Circle(SKETCH_1_R, mode=Mode.SUBTRACT)
        with Locations((144, 96)):
            Circle(SKETCH_1_R, mode=Mode.SUBTRACT)
        with Locations((144, 80)):
            Circle(SKETCH_1_R, mode=Mode.SUBTRACT)
        with Locations((144, 64)):
            Circle(SKETCH_1_R, mode=Mode.SUBTRACT)
        with Locations((144, 48)):
            Circle(SKETCH_1_R, mode=Mode.SUBTRACT)
        with Locations((112, 96)):
            Circle(SKETCH_1_R, mode=Mode.SUBTRACT)
        with Locations((112, 80)):
            Circle(SKETCH_1_R, mode=Mode.SUBTRACT)
        with Locations((112, 64)):
            Circle(SKETCH_1_R, mode=Mode.SUBTRACT)
        with Locations((112, 48)):
            Circle(SKETCH_1_R, mode=Mode.SUBTRACT)
        with Locations((-34, 12)):
            Circle(SKETCH_1_R, mode=Mode.SUBTRACT)
        with Locations((-16, 12)):
            Circle(SKETCH_1_R, mode=Mode.SUBTRACT)
        with Locations((178, 150)):
            Circle(SKETCH_1_R, mode=Mode.SUBTRACT)
        with Locations((-60, 150)):
            Circle(SKETCH_1_R, mode=Mode.SUBTRACT)
        with Locations((60, 150)):
            Circle(SKETCH_1_R, mode=Mode.SUBTRACT)
        with Locations((-60, 70)):
            Circle(SKETCH_1_R, mode=Mode.SUBTRACT)
        with Locations((190, 60)):
            Circle(SKETCH_1_R, mode=Mode.SUBTRACT)
        with Locations((175, 0)):
            Circle(SKETCH_1_R_2, mode=Mode.SUBTRACT)
        with Locations((65, 75)):
            Circle(SKETCH_1_R, mode=Mode.SUBTRACT)
        with Locations((20, 50)):
            Circle(SKETCH_1_R, mode=Mode.SUBTRACT)
        with Locations((20, -50)):
            Circle(SKETCH_1_R, mode=Mode.SUBTRACT)
        with Locations((65, -75)):
            Circle(SKETCH_1_R, mode=Mode.SUBTRACT)
        with Locations((190, -60)):
            Circle(SKETCH_1_R, mode=Mode.SUBTRACT)
        with Locations((-60, -70)):
            Circle(SKETCH_1_R, mode=Mode.SUBTRACT)
        with Locations((60, -150)):
            Circle(SKETCH_1_R, mode=Mode.SUBTRACT)
        with Locations((-60, -150)):
            Circle(SKETCH_1_R, mode=Mode.SUBTRACT)
        with Locations((178, -150)):
            Circle(SKETCH_1_R, mode=Mode.SUBTRACT)
        with Locations((-16, -12)):
            Circle(SKETCH_1_R, mode=Mode.SUBTRACT)
        with Locations((-34, -12)):
            Circle(SKETCH_1_R, mode=Mode.SUBTRACT)
        with Locations((112, -48)):
            Circle(SKETCH_1_R, mode=Mode.SUBTRACT)
        with Locations((112, -64)):
            Circle(SKETCH_1_R, mode=Mode.SUBTRACT)
        with Locations((112, -80)):
            Circle(SKETCH_1_R, mode=Mode.SUBTRACT)
        with Locations((112, -96)):
            Circle(SKETCH_1_R, mode=Mode.SUBTRACT)
        with Locations((144, -48)):
            Circle(SKETCH_1_R, mode=Mode.SUBTRACT)
        with Locations((144, -64)):
            Circle(SKETCH_1_R, mode=Mode.SUBTRACT)
        with Locations((144, -80)):
            Circle(SKETCH_1_R, mode=Mode.SUBTRACT)
        with Locations((144, -96)):
            Circle(SKETCH_1_R, mode=Mode.SUBTRACT)
        with Locations((144, -112)):
            Circle(SKETCH_1_R, mode=Mode.SUBTRACT)
        with Locations((112, -112)):
            Circle(SKETCH_1_R, mode=Mode.SUBTRACT)
        with BuildLine():
            Line((-20, 140), (20, 140))
            ThreePointArc((20, 140), (30, 130), (20, 120))
            Line((20, 120), (-20, 120))
            ThreePointArc((-20, 120), (-30, 130), (-20, 140))
        make_face(mode=Mode.SUBTRACT)
        with BuildLine():
            Line((-20, -140), (20, -140))
            ThreePointArc((20, -140), (30, -130), (20, -120))
            Line((20, -120), (-20, -120))
            ThreePointArc((-20, -120), (-30, -130), (-20, -140))
        make_face(mode=Mode.SUBTRACT)
    extrude(amount=EXTRUDE_1_2_DEPTH)


solid = Compound([part.part, body_2.part])
